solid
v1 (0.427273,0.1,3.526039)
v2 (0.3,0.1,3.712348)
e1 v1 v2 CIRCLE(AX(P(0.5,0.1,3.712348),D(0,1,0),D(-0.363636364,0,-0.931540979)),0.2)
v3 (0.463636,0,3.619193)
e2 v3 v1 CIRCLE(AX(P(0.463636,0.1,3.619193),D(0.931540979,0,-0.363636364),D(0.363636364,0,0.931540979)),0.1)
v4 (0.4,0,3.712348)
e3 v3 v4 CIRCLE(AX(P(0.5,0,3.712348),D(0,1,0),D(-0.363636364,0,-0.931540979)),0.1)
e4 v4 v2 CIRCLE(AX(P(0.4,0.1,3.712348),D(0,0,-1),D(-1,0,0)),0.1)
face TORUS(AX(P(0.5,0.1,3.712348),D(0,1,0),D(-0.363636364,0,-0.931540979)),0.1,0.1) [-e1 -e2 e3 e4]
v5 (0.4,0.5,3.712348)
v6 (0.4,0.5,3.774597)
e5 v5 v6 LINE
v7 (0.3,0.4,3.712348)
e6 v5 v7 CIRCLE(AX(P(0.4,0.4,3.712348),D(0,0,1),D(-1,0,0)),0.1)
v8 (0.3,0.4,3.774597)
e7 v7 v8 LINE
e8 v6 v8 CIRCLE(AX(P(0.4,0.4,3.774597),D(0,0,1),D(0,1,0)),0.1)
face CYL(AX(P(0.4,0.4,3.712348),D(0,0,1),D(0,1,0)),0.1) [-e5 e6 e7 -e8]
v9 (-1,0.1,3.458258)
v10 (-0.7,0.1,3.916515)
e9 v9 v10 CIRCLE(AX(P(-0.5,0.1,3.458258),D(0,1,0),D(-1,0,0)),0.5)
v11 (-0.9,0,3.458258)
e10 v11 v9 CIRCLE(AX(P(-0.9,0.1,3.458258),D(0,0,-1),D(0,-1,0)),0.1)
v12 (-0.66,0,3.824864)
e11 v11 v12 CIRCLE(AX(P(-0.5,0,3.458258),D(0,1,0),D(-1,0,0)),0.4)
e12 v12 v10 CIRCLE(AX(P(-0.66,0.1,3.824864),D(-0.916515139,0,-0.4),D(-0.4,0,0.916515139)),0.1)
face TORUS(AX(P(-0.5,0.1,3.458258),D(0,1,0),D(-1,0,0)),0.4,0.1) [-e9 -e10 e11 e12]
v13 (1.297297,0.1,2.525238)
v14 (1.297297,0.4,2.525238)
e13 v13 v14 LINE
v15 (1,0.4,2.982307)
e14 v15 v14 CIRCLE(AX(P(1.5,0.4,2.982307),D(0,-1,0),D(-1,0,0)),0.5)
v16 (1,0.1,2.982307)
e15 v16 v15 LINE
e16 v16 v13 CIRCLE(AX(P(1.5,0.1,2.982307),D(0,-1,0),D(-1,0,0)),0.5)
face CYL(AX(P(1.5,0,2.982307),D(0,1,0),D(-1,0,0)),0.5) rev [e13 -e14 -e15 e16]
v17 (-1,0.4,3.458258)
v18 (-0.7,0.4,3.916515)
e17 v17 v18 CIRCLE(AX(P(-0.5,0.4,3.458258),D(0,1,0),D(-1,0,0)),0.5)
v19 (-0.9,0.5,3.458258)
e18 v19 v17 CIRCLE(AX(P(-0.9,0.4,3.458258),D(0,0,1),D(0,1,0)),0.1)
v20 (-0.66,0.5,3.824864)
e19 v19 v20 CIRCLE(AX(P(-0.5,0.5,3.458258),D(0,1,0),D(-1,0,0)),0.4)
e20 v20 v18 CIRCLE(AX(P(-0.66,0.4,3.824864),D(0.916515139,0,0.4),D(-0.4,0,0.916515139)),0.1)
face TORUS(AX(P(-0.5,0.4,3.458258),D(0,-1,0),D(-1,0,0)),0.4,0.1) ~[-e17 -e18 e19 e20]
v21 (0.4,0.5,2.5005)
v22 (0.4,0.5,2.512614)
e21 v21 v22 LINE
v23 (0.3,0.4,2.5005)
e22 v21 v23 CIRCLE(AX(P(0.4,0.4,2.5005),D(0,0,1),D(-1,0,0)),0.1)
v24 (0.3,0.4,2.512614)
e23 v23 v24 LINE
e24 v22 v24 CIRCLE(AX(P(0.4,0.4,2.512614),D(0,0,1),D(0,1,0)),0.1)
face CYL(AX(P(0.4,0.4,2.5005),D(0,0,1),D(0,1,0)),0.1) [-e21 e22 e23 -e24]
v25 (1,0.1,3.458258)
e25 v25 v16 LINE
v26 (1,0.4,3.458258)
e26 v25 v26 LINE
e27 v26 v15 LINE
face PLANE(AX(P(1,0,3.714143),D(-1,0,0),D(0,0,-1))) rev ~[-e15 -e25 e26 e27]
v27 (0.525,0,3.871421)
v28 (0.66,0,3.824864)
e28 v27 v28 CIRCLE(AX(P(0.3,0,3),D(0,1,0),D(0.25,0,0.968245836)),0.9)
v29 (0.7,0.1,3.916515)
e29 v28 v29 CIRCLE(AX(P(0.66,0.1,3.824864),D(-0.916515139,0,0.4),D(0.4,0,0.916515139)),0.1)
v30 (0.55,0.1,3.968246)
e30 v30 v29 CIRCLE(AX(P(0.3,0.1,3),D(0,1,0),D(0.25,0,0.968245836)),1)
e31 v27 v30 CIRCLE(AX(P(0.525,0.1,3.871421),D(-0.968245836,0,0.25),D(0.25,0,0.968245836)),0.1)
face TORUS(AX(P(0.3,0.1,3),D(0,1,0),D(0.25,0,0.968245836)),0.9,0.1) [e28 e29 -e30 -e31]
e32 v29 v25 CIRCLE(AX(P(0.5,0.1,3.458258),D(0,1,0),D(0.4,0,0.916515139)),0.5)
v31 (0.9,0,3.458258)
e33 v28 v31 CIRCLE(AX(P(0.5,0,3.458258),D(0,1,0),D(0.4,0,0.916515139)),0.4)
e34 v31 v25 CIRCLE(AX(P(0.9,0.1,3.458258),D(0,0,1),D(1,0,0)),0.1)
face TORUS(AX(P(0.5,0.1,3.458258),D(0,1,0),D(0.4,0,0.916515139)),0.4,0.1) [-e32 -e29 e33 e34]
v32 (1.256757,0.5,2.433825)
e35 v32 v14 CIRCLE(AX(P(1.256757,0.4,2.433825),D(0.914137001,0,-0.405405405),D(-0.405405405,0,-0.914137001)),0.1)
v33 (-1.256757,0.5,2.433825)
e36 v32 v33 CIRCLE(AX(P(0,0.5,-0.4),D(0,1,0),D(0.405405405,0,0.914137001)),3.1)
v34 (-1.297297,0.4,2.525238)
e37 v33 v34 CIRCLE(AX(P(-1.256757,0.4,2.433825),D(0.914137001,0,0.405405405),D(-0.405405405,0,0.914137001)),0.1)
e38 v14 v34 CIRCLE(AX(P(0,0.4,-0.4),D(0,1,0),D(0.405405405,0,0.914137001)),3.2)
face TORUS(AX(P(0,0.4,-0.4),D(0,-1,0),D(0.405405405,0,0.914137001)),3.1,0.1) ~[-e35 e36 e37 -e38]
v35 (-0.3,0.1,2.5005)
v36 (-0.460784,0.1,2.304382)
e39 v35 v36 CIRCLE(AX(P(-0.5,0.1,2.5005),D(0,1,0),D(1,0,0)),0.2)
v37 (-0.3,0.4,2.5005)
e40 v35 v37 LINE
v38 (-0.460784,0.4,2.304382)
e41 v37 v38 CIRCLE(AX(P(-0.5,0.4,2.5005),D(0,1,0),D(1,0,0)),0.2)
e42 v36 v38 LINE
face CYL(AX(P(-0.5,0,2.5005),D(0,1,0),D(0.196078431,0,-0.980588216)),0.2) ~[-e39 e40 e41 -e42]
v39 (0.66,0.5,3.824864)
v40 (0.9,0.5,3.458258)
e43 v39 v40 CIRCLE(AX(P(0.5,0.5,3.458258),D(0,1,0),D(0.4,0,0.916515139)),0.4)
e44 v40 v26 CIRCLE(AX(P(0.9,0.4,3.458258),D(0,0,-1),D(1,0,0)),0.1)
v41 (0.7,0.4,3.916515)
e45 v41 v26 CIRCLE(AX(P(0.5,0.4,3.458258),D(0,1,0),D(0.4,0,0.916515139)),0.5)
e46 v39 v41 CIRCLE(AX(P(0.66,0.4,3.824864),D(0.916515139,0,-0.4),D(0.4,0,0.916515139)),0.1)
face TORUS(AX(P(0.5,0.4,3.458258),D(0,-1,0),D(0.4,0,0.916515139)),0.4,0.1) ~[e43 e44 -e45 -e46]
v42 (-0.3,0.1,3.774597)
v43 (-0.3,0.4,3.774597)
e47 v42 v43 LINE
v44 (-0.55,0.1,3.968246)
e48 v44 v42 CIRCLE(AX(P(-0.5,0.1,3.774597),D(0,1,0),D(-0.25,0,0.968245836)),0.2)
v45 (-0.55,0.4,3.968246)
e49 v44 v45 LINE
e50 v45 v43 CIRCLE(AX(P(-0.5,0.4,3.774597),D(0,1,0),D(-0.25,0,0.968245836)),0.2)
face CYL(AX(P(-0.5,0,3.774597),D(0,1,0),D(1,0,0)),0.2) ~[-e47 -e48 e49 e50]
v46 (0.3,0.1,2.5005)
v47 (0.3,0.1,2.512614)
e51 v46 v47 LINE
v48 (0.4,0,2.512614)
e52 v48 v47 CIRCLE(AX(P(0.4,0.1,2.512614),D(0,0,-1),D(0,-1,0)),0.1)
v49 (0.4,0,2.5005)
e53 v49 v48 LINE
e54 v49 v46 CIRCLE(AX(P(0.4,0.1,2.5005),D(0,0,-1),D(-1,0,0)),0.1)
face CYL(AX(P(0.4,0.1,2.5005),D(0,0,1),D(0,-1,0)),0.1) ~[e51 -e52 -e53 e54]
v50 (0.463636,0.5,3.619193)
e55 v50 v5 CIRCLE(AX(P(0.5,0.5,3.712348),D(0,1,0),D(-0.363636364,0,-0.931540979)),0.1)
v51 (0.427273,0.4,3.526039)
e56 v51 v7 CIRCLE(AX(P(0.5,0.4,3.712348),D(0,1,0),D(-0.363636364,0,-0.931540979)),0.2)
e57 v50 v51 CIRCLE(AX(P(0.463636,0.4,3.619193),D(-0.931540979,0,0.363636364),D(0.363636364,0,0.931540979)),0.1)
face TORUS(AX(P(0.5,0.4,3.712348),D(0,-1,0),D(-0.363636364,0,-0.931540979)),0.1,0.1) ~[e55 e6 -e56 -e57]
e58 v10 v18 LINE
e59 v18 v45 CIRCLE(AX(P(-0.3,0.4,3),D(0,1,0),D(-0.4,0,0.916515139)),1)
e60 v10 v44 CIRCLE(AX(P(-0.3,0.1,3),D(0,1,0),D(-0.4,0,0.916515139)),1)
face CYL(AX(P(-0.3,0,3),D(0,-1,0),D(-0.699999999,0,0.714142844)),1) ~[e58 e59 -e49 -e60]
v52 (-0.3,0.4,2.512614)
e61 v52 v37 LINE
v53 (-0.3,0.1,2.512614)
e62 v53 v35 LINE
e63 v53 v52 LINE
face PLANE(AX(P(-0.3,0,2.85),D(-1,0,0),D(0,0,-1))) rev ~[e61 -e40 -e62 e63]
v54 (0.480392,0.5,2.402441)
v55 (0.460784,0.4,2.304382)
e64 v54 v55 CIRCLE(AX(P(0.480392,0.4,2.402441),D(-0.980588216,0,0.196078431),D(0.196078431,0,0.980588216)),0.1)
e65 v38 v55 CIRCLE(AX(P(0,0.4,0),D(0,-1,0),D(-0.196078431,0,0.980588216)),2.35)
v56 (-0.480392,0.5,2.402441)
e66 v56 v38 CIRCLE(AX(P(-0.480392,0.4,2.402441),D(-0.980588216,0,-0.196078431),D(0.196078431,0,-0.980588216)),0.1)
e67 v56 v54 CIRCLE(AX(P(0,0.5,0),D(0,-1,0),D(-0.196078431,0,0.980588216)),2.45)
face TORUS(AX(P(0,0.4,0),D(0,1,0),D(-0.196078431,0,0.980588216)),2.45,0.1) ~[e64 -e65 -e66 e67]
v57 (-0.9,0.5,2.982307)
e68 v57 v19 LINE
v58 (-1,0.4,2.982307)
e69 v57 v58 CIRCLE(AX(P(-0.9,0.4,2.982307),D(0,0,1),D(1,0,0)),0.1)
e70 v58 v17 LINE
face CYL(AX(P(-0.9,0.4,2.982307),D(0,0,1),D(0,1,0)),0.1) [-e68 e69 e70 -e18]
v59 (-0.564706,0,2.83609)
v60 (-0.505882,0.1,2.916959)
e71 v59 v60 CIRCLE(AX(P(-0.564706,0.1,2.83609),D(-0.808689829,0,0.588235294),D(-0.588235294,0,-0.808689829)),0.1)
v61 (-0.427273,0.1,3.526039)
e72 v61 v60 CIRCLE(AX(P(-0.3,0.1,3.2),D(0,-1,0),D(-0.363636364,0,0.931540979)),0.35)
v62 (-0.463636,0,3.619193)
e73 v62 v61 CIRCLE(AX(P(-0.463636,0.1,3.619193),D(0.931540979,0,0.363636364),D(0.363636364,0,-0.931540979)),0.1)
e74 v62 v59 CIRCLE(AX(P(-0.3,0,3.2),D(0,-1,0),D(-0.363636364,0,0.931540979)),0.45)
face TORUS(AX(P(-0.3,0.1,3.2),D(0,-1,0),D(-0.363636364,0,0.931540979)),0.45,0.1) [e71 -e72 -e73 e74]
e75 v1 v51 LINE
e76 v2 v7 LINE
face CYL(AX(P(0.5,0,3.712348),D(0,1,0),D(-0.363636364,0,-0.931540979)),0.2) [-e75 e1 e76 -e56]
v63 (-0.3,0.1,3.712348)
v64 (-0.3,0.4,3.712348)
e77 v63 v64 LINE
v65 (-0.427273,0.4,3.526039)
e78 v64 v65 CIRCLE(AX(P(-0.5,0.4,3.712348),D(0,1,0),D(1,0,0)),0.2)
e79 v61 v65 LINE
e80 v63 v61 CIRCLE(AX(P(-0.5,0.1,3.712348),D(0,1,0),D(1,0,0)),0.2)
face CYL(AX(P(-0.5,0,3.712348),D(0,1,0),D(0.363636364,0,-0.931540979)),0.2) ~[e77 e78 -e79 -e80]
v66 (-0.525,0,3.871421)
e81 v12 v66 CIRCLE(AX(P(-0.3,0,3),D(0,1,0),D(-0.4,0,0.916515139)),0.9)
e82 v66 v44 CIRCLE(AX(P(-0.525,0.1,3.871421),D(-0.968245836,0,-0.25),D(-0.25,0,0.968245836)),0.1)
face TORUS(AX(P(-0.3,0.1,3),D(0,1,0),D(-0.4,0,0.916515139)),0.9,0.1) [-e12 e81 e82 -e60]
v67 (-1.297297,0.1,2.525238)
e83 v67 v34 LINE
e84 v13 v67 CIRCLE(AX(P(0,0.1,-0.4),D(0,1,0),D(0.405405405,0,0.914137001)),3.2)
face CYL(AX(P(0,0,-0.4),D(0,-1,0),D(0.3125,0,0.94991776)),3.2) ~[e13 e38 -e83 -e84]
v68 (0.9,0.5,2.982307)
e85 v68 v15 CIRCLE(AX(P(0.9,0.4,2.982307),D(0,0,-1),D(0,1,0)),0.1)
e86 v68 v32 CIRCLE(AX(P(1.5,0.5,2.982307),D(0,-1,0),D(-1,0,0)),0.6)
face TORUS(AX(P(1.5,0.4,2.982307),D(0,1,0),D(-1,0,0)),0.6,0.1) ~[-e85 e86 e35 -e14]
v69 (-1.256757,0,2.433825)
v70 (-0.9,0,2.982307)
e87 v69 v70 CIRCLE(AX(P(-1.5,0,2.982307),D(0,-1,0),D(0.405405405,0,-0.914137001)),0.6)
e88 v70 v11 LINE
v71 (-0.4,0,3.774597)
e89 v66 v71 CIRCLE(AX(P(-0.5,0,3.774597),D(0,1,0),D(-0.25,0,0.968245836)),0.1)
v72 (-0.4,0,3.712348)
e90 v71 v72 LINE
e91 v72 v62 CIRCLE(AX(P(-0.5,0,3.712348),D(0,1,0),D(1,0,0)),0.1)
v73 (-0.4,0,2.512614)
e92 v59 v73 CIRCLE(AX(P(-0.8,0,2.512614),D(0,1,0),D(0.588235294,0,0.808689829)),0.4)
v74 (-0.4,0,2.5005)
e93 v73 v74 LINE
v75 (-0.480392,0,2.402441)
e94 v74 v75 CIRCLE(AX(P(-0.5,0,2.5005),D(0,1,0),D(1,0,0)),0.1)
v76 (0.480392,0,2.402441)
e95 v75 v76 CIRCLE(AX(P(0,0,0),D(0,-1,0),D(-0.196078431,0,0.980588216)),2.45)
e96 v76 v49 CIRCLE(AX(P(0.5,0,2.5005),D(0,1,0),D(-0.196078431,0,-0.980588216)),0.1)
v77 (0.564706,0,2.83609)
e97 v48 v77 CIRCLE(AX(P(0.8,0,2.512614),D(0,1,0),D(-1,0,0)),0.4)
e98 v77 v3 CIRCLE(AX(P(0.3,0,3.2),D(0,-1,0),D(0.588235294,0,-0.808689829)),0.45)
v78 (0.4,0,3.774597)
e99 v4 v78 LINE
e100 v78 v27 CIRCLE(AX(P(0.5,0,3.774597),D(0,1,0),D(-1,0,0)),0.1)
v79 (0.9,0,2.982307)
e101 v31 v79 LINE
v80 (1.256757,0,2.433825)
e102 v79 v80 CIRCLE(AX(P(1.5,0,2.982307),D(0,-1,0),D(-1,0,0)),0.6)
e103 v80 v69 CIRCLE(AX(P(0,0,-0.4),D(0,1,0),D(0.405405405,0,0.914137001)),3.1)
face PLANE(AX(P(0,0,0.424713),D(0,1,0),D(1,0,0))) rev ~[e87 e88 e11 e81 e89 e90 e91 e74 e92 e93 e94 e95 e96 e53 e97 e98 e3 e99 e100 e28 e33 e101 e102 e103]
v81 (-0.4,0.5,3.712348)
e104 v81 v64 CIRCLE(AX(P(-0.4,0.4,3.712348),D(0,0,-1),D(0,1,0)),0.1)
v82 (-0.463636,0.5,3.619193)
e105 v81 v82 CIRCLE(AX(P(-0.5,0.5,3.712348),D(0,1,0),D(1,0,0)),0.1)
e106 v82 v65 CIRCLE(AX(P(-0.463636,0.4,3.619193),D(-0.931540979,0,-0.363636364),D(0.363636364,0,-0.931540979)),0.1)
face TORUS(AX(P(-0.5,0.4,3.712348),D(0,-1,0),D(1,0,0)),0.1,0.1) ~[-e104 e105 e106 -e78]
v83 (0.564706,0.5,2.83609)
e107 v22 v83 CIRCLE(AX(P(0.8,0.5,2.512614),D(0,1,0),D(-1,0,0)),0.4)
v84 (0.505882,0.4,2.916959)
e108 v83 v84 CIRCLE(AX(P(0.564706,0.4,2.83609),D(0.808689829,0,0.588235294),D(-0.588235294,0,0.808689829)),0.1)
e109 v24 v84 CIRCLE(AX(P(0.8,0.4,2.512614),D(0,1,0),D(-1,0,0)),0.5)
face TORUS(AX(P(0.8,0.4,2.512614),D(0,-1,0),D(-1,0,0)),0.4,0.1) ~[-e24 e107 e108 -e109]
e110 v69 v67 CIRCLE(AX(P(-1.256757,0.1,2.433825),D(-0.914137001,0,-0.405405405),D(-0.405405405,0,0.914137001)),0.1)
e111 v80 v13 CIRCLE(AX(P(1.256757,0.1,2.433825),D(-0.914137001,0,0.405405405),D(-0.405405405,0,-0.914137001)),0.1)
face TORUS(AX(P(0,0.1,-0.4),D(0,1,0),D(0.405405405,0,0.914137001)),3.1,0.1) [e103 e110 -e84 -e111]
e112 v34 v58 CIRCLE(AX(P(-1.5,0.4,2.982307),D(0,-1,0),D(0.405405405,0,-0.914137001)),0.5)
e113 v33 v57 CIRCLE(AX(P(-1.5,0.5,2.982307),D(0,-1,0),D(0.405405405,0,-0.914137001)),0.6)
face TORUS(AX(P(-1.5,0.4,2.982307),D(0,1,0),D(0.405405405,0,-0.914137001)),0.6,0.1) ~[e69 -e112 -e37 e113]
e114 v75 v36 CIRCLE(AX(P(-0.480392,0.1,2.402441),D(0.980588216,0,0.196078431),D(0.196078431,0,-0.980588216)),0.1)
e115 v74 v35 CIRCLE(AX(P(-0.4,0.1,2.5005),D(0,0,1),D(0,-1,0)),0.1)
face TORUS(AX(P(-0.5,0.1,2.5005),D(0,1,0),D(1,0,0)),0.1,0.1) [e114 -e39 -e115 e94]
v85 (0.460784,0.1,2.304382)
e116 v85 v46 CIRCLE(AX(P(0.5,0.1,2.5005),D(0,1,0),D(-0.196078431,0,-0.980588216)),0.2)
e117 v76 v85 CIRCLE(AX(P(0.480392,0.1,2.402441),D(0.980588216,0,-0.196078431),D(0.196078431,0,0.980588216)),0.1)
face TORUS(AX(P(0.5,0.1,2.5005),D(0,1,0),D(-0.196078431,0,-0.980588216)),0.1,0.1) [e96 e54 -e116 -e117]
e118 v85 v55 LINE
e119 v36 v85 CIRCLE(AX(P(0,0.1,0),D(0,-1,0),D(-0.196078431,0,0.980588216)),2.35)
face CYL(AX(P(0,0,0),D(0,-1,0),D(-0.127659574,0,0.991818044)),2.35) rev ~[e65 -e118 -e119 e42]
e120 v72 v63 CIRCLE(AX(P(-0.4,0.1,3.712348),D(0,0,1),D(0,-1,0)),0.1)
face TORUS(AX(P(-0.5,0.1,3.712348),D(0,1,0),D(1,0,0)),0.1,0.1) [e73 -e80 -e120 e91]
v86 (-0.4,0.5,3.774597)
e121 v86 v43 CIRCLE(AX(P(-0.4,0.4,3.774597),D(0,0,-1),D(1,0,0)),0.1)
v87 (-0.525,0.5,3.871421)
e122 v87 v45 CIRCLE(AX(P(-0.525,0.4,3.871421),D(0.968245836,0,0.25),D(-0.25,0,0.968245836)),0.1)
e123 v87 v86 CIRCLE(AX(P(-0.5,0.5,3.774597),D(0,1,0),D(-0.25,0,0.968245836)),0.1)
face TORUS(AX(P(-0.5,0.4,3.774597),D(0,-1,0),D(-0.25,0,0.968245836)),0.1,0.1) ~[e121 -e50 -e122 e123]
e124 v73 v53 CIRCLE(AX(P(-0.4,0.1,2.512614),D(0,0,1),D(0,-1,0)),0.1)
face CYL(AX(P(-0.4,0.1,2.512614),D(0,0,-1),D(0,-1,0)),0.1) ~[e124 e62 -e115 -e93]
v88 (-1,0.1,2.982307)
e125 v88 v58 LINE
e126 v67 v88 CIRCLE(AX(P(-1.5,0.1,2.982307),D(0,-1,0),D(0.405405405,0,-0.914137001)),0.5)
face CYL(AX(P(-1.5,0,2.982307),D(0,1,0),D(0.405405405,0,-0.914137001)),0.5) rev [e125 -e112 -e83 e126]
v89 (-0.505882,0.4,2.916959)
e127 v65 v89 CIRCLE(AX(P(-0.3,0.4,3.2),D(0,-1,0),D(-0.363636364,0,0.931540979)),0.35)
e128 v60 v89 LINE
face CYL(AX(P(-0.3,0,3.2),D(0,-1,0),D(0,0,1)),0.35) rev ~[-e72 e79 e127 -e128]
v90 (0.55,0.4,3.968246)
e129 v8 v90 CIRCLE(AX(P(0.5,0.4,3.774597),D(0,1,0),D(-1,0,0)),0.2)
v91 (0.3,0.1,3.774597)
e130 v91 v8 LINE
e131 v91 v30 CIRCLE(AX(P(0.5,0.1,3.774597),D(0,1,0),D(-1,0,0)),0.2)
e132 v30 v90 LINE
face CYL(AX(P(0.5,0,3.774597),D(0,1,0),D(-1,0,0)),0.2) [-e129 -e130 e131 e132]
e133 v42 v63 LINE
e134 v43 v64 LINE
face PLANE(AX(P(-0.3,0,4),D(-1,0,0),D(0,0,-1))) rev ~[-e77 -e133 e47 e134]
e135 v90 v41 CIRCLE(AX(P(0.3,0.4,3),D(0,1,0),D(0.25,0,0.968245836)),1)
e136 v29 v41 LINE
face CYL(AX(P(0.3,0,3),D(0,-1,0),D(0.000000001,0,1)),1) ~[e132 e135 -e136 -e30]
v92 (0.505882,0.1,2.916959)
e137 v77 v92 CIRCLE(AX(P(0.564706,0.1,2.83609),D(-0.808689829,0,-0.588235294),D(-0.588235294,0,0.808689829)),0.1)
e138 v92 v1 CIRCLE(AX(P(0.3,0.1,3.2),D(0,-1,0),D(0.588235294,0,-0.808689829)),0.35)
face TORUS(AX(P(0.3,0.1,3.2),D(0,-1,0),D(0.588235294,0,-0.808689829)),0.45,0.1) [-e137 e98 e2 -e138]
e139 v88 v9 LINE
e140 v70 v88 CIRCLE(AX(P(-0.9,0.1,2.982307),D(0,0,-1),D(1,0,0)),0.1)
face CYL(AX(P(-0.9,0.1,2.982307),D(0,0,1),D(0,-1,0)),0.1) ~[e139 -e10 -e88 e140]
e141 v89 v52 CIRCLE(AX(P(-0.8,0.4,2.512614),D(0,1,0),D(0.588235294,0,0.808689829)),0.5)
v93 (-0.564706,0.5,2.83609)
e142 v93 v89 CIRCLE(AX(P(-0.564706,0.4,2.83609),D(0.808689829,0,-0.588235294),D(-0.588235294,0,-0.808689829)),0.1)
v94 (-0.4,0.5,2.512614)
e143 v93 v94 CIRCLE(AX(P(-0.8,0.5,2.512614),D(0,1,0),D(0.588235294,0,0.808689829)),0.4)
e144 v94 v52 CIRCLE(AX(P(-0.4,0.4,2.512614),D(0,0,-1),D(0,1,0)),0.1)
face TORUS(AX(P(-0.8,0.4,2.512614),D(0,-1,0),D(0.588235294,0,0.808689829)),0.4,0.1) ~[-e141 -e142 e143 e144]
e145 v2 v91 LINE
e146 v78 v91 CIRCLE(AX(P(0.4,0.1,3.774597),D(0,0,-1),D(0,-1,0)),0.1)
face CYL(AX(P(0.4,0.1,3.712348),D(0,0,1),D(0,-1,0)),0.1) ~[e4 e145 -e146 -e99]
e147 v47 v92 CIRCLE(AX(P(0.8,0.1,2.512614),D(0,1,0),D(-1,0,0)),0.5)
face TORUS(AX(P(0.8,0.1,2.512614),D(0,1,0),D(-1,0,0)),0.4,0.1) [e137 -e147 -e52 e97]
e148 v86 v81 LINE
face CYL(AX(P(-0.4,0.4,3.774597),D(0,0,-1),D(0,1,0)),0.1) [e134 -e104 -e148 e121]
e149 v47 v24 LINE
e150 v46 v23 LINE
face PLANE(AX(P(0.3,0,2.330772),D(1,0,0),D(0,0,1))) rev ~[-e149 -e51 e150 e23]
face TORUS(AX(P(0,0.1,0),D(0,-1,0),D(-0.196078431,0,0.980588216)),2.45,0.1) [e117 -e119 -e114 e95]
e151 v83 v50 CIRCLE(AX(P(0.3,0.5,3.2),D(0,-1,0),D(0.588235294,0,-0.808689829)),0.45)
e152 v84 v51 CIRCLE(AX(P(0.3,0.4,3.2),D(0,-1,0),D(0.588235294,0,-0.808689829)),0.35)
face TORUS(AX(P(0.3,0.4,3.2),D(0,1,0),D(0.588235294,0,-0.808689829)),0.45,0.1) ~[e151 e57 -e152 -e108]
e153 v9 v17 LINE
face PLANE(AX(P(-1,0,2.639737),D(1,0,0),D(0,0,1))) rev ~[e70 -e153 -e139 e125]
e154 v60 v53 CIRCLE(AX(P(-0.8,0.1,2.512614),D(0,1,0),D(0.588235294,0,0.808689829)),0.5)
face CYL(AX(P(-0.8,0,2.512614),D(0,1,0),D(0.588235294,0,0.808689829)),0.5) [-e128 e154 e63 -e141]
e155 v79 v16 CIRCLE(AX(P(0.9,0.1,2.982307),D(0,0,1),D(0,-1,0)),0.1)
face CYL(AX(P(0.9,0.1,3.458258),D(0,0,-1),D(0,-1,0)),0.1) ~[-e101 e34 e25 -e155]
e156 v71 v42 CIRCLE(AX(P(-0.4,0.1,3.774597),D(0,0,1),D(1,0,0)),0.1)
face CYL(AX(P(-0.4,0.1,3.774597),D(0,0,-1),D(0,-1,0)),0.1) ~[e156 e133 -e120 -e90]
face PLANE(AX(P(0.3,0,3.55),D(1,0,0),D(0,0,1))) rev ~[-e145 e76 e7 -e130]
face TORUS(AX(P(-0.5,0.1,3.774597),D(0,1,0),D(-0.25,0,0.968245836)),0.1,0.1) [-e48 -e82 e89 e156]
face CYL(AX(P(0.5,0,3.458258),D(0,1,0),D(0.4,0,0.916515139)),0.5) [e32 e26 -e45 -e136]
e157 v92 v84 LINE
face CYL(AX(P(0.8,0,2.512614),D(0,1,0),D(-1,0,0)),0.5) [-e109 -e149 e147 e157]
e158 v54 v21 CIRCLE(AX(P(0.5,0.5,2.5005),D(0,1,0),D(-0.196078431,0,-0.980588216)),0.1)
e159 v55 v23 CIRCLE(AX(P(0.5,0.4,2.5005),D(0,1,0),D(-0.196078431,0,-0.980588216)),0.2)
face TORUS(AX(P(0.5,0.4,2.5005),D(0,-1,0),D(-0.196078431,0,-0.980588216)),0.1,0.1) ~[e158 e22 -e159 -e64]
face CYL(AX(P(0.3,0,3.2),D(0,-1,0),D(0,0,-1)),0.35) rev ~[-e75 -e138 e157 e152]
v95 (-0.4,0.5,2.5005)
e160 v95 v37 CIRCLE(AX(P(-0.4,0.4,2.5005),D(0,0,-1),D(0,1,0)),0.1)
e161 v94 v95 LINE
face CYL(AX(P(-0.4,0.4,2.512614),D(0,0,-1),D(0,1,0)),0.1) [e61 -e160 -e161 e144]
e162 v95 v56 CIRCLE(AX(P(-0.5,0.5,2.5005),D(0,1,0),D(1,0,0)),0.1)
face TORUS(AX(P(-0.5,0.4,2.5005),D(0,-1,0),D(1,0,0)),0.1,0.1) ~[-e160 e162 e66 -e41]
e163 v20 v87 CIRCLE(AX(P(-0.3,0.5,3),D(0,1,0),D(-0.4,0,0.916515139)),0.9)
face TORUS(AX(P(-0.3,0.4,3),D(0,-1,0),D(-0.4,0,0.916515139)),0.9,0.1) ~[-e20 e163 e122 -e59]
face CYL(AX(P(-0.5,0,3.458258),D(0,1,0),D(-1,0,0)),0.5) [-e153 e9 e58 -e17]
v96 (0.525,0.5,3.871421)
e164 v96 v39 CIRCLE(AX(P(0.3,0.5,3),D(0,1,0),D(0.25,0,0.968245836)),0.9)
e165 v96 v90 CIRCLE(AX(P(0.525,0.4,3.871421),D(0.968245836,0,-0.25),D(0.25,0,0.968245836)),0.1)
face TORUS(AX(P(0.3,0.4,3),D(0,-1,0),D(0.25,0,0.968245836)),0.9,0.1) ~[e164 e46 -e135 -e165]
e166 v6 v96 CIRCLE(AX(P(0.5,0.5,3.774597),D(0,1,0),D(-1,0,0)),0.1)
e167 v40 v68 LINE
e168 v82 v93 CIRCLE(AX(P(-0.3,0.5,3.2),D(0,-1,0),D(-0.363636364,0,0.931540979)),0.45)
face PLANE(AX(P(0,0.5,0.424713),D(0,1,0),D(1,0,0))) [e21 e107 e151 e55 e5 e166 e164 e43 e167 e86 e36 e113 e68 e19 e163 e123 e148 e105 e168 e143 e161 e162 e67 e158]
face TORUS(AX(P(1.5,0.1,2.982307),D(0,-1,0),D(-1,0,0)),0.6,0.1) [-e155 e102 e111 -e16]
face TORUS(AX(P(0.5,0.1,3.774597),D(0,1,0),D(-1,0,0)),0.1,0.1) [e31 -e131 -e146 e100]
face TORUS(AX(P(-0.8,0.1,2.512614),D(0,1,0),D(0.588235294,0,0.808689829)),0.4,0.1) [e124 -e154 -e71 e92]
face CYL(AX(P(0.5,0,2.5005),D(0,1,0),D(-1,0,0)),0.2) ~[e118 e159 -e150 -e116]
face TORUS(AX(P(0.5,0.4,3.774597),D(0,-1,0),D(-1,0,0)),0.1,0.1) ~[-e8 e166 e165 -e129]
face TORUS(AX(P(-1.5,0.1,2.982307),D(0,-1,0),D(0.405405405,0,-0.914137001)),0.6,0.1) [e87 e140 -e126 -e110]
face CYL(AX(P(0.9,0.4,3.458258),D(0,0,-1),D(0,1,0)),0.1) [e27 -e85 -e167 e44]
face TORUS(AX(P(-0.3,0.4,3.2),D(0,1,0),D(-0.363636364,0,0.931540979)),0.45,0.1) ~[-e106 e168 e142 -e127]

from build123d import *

# Parameters (mm, degrees)
EXTRUDE_1_DEPTH = 0.5
FILLET_3_R      = 0.5
FILLET_4_R      = 0.2
FILLET_5_R      = 0.1


with BuildPart() as part:
    # 草图1 → 凸台-拉伸1 (new body)
    with BuildSketch(Plane(origin=(0, 0, 0), x_dir=(1, 0, 0), z_dir=(0, 1, 0))):
        with BuildLine():
            Line((0.3, -2.330772404), (0.3, -2.85))
            ThreePointArc((0.3, -2.85), (0.65, -3.2), (0.3, -3.55))
            Line((0.3, -3.55), (0.3, -4))
            ThreePointArc((0.3, -4), (0.678058962, -3.925781519), (1, -3.714142843))
            Line((1, -3.714142843), (1, -2.639736831))
            ThreePointArc((1, -2.639736831), (0, 3.6), (-1, -2.639736831))
            Line((-1, -2.639736831), (-1, -3.714142843))
            ThreePointArc((-1, -3.714142843), (-0.678058962, -3.925781519), (-0.3, -4))
            Line((-0.3, -4), (-0.3, -3.55))
            ThreePointArc((-0.3, -3.55), (-0.65, -3.2), (-0.3, -2.85))
            Line((-0.3, -2.85), (-0.3, -2.330772404))
            ThreePointArc((-0.3, -2.330772404), (0, 2.35), (0.3, -2.330772404))
        make_face()
    extrude(amount=EXTRUDE_1_DEPTH)

    # 圆角3
    fillet_3_edges = [part.edges().sort_by_distance(p)[0] for p in [
        (1, 0.25, 2.639736831),
        (1, 0.25, 3.714142843),
        (0.3, 0.25, 2.85),
        (-0.3, 0.25, 2.85),
        (-1, 0.25, 3.714142843),
        (-1, 0.25, 2.639736831),
    ]]
    fillet(fillet_3_edges, radius=FILLET_3_R)

    # 圆角4
    fillet_4_edges = [part.edges().sort_by_distance(p)[0] for p in [
        (0.3, 0.25, 4),
        (0.3, 0.25, 3.55),
        (0.3, 0.25, 2.330772404),
        (-0.3, 0.25, 2.330772404),
        (-0.3, 0.25, 3.55),
        (-0.3, 0.25, 4),
    ]]
    fillet(fillet_4_edges, radius=FILLET_4_R)

    # 圆角5
    fillet_5_edges = [part.edges().sort_by_distance(p)[0] for p in [
        (-0.3, 0, 2.506556798),
        (-0.3, 0.5, 2.506556798),
        (0, 0, -3.6),
        (1, 0, 3.220282237),
        (0.647120911, 0, 3.244800371),
        (-0.626027631, 0, 3.94536024),
        (-1, 0, 3.220282237),
        (-0.918330013, 0, 3.732118848),
        (0.918330013, 0, 3.732118848),
        (0.354433606, 0, 2.739484949),
        (-0.354433606, 0, 2.739484949),
        (0, 0.5, -3.6),
        (-1, 0.5, 3.220282237),
        (-0.626027631, 0.5, 3.94536024),
        (0.647120911, 0.5, 3.244800371),
        (1, 0.5, 3.220282237),
        (-0.918330013, 0.5, 3.732118848),
        (0.918330013, 0.5, 3.732118848),
        (0.354433606, 0.5, 2.739484949),
        (-0.354433606, 0.5, 2.739484949),
        (-1.080863178, 0, 2.709682027),
        (-1.080863178, 0.5, 2.709682027),
        (1.080863178, 0, 2.709682027),
        (1.080863178, 0.5, 2.709682027),
        (0, 0, -2.35),
        (0, 0.5, -2.35),
        (-0.647120911, 0, 3.244800371),
        (-0.3, 0, 3.743472104),
        (0.626027631, 0, 3.94536024),
        (0.3, 0, 3.743472104),
        (0.3, 0, 2.506556798),
        (0.377525513, 0, 3.932710552),
        (-0.377525513, 0, 3.932710552),
        (-0.334855435, 0, 3.599532323),
        (0.334855435, 0, 3.599532323),
        (0.345334009, 0, 2.373699195),
        (-0.345334009, 0, 2.373699195),
        (-0.647120911, 0.5, 3.244800371),
        (0.3, 0.5, 2.506556798),
        (0.3, 0.5, 3.743472104),
        (0.626027631, 0.5, 3.94536024),
        (-0.3, 0.5, 3.743472104),
        (0.377525513, 0.5, 3.932710552),
        (-0.377525513, 0.5, 3.932710552),
        (-0.334855435, 0.5, 3.599532323),
        (0.334855435, 0.5, 3.599532323),
        (0.345334009, 0.5, 2.373699195),
        (-0.345334009, 0.5, 2.373699195),
    ]]
    fillet(fillet_5_edges, radius=FILLET_5_R)


solid = part.part
